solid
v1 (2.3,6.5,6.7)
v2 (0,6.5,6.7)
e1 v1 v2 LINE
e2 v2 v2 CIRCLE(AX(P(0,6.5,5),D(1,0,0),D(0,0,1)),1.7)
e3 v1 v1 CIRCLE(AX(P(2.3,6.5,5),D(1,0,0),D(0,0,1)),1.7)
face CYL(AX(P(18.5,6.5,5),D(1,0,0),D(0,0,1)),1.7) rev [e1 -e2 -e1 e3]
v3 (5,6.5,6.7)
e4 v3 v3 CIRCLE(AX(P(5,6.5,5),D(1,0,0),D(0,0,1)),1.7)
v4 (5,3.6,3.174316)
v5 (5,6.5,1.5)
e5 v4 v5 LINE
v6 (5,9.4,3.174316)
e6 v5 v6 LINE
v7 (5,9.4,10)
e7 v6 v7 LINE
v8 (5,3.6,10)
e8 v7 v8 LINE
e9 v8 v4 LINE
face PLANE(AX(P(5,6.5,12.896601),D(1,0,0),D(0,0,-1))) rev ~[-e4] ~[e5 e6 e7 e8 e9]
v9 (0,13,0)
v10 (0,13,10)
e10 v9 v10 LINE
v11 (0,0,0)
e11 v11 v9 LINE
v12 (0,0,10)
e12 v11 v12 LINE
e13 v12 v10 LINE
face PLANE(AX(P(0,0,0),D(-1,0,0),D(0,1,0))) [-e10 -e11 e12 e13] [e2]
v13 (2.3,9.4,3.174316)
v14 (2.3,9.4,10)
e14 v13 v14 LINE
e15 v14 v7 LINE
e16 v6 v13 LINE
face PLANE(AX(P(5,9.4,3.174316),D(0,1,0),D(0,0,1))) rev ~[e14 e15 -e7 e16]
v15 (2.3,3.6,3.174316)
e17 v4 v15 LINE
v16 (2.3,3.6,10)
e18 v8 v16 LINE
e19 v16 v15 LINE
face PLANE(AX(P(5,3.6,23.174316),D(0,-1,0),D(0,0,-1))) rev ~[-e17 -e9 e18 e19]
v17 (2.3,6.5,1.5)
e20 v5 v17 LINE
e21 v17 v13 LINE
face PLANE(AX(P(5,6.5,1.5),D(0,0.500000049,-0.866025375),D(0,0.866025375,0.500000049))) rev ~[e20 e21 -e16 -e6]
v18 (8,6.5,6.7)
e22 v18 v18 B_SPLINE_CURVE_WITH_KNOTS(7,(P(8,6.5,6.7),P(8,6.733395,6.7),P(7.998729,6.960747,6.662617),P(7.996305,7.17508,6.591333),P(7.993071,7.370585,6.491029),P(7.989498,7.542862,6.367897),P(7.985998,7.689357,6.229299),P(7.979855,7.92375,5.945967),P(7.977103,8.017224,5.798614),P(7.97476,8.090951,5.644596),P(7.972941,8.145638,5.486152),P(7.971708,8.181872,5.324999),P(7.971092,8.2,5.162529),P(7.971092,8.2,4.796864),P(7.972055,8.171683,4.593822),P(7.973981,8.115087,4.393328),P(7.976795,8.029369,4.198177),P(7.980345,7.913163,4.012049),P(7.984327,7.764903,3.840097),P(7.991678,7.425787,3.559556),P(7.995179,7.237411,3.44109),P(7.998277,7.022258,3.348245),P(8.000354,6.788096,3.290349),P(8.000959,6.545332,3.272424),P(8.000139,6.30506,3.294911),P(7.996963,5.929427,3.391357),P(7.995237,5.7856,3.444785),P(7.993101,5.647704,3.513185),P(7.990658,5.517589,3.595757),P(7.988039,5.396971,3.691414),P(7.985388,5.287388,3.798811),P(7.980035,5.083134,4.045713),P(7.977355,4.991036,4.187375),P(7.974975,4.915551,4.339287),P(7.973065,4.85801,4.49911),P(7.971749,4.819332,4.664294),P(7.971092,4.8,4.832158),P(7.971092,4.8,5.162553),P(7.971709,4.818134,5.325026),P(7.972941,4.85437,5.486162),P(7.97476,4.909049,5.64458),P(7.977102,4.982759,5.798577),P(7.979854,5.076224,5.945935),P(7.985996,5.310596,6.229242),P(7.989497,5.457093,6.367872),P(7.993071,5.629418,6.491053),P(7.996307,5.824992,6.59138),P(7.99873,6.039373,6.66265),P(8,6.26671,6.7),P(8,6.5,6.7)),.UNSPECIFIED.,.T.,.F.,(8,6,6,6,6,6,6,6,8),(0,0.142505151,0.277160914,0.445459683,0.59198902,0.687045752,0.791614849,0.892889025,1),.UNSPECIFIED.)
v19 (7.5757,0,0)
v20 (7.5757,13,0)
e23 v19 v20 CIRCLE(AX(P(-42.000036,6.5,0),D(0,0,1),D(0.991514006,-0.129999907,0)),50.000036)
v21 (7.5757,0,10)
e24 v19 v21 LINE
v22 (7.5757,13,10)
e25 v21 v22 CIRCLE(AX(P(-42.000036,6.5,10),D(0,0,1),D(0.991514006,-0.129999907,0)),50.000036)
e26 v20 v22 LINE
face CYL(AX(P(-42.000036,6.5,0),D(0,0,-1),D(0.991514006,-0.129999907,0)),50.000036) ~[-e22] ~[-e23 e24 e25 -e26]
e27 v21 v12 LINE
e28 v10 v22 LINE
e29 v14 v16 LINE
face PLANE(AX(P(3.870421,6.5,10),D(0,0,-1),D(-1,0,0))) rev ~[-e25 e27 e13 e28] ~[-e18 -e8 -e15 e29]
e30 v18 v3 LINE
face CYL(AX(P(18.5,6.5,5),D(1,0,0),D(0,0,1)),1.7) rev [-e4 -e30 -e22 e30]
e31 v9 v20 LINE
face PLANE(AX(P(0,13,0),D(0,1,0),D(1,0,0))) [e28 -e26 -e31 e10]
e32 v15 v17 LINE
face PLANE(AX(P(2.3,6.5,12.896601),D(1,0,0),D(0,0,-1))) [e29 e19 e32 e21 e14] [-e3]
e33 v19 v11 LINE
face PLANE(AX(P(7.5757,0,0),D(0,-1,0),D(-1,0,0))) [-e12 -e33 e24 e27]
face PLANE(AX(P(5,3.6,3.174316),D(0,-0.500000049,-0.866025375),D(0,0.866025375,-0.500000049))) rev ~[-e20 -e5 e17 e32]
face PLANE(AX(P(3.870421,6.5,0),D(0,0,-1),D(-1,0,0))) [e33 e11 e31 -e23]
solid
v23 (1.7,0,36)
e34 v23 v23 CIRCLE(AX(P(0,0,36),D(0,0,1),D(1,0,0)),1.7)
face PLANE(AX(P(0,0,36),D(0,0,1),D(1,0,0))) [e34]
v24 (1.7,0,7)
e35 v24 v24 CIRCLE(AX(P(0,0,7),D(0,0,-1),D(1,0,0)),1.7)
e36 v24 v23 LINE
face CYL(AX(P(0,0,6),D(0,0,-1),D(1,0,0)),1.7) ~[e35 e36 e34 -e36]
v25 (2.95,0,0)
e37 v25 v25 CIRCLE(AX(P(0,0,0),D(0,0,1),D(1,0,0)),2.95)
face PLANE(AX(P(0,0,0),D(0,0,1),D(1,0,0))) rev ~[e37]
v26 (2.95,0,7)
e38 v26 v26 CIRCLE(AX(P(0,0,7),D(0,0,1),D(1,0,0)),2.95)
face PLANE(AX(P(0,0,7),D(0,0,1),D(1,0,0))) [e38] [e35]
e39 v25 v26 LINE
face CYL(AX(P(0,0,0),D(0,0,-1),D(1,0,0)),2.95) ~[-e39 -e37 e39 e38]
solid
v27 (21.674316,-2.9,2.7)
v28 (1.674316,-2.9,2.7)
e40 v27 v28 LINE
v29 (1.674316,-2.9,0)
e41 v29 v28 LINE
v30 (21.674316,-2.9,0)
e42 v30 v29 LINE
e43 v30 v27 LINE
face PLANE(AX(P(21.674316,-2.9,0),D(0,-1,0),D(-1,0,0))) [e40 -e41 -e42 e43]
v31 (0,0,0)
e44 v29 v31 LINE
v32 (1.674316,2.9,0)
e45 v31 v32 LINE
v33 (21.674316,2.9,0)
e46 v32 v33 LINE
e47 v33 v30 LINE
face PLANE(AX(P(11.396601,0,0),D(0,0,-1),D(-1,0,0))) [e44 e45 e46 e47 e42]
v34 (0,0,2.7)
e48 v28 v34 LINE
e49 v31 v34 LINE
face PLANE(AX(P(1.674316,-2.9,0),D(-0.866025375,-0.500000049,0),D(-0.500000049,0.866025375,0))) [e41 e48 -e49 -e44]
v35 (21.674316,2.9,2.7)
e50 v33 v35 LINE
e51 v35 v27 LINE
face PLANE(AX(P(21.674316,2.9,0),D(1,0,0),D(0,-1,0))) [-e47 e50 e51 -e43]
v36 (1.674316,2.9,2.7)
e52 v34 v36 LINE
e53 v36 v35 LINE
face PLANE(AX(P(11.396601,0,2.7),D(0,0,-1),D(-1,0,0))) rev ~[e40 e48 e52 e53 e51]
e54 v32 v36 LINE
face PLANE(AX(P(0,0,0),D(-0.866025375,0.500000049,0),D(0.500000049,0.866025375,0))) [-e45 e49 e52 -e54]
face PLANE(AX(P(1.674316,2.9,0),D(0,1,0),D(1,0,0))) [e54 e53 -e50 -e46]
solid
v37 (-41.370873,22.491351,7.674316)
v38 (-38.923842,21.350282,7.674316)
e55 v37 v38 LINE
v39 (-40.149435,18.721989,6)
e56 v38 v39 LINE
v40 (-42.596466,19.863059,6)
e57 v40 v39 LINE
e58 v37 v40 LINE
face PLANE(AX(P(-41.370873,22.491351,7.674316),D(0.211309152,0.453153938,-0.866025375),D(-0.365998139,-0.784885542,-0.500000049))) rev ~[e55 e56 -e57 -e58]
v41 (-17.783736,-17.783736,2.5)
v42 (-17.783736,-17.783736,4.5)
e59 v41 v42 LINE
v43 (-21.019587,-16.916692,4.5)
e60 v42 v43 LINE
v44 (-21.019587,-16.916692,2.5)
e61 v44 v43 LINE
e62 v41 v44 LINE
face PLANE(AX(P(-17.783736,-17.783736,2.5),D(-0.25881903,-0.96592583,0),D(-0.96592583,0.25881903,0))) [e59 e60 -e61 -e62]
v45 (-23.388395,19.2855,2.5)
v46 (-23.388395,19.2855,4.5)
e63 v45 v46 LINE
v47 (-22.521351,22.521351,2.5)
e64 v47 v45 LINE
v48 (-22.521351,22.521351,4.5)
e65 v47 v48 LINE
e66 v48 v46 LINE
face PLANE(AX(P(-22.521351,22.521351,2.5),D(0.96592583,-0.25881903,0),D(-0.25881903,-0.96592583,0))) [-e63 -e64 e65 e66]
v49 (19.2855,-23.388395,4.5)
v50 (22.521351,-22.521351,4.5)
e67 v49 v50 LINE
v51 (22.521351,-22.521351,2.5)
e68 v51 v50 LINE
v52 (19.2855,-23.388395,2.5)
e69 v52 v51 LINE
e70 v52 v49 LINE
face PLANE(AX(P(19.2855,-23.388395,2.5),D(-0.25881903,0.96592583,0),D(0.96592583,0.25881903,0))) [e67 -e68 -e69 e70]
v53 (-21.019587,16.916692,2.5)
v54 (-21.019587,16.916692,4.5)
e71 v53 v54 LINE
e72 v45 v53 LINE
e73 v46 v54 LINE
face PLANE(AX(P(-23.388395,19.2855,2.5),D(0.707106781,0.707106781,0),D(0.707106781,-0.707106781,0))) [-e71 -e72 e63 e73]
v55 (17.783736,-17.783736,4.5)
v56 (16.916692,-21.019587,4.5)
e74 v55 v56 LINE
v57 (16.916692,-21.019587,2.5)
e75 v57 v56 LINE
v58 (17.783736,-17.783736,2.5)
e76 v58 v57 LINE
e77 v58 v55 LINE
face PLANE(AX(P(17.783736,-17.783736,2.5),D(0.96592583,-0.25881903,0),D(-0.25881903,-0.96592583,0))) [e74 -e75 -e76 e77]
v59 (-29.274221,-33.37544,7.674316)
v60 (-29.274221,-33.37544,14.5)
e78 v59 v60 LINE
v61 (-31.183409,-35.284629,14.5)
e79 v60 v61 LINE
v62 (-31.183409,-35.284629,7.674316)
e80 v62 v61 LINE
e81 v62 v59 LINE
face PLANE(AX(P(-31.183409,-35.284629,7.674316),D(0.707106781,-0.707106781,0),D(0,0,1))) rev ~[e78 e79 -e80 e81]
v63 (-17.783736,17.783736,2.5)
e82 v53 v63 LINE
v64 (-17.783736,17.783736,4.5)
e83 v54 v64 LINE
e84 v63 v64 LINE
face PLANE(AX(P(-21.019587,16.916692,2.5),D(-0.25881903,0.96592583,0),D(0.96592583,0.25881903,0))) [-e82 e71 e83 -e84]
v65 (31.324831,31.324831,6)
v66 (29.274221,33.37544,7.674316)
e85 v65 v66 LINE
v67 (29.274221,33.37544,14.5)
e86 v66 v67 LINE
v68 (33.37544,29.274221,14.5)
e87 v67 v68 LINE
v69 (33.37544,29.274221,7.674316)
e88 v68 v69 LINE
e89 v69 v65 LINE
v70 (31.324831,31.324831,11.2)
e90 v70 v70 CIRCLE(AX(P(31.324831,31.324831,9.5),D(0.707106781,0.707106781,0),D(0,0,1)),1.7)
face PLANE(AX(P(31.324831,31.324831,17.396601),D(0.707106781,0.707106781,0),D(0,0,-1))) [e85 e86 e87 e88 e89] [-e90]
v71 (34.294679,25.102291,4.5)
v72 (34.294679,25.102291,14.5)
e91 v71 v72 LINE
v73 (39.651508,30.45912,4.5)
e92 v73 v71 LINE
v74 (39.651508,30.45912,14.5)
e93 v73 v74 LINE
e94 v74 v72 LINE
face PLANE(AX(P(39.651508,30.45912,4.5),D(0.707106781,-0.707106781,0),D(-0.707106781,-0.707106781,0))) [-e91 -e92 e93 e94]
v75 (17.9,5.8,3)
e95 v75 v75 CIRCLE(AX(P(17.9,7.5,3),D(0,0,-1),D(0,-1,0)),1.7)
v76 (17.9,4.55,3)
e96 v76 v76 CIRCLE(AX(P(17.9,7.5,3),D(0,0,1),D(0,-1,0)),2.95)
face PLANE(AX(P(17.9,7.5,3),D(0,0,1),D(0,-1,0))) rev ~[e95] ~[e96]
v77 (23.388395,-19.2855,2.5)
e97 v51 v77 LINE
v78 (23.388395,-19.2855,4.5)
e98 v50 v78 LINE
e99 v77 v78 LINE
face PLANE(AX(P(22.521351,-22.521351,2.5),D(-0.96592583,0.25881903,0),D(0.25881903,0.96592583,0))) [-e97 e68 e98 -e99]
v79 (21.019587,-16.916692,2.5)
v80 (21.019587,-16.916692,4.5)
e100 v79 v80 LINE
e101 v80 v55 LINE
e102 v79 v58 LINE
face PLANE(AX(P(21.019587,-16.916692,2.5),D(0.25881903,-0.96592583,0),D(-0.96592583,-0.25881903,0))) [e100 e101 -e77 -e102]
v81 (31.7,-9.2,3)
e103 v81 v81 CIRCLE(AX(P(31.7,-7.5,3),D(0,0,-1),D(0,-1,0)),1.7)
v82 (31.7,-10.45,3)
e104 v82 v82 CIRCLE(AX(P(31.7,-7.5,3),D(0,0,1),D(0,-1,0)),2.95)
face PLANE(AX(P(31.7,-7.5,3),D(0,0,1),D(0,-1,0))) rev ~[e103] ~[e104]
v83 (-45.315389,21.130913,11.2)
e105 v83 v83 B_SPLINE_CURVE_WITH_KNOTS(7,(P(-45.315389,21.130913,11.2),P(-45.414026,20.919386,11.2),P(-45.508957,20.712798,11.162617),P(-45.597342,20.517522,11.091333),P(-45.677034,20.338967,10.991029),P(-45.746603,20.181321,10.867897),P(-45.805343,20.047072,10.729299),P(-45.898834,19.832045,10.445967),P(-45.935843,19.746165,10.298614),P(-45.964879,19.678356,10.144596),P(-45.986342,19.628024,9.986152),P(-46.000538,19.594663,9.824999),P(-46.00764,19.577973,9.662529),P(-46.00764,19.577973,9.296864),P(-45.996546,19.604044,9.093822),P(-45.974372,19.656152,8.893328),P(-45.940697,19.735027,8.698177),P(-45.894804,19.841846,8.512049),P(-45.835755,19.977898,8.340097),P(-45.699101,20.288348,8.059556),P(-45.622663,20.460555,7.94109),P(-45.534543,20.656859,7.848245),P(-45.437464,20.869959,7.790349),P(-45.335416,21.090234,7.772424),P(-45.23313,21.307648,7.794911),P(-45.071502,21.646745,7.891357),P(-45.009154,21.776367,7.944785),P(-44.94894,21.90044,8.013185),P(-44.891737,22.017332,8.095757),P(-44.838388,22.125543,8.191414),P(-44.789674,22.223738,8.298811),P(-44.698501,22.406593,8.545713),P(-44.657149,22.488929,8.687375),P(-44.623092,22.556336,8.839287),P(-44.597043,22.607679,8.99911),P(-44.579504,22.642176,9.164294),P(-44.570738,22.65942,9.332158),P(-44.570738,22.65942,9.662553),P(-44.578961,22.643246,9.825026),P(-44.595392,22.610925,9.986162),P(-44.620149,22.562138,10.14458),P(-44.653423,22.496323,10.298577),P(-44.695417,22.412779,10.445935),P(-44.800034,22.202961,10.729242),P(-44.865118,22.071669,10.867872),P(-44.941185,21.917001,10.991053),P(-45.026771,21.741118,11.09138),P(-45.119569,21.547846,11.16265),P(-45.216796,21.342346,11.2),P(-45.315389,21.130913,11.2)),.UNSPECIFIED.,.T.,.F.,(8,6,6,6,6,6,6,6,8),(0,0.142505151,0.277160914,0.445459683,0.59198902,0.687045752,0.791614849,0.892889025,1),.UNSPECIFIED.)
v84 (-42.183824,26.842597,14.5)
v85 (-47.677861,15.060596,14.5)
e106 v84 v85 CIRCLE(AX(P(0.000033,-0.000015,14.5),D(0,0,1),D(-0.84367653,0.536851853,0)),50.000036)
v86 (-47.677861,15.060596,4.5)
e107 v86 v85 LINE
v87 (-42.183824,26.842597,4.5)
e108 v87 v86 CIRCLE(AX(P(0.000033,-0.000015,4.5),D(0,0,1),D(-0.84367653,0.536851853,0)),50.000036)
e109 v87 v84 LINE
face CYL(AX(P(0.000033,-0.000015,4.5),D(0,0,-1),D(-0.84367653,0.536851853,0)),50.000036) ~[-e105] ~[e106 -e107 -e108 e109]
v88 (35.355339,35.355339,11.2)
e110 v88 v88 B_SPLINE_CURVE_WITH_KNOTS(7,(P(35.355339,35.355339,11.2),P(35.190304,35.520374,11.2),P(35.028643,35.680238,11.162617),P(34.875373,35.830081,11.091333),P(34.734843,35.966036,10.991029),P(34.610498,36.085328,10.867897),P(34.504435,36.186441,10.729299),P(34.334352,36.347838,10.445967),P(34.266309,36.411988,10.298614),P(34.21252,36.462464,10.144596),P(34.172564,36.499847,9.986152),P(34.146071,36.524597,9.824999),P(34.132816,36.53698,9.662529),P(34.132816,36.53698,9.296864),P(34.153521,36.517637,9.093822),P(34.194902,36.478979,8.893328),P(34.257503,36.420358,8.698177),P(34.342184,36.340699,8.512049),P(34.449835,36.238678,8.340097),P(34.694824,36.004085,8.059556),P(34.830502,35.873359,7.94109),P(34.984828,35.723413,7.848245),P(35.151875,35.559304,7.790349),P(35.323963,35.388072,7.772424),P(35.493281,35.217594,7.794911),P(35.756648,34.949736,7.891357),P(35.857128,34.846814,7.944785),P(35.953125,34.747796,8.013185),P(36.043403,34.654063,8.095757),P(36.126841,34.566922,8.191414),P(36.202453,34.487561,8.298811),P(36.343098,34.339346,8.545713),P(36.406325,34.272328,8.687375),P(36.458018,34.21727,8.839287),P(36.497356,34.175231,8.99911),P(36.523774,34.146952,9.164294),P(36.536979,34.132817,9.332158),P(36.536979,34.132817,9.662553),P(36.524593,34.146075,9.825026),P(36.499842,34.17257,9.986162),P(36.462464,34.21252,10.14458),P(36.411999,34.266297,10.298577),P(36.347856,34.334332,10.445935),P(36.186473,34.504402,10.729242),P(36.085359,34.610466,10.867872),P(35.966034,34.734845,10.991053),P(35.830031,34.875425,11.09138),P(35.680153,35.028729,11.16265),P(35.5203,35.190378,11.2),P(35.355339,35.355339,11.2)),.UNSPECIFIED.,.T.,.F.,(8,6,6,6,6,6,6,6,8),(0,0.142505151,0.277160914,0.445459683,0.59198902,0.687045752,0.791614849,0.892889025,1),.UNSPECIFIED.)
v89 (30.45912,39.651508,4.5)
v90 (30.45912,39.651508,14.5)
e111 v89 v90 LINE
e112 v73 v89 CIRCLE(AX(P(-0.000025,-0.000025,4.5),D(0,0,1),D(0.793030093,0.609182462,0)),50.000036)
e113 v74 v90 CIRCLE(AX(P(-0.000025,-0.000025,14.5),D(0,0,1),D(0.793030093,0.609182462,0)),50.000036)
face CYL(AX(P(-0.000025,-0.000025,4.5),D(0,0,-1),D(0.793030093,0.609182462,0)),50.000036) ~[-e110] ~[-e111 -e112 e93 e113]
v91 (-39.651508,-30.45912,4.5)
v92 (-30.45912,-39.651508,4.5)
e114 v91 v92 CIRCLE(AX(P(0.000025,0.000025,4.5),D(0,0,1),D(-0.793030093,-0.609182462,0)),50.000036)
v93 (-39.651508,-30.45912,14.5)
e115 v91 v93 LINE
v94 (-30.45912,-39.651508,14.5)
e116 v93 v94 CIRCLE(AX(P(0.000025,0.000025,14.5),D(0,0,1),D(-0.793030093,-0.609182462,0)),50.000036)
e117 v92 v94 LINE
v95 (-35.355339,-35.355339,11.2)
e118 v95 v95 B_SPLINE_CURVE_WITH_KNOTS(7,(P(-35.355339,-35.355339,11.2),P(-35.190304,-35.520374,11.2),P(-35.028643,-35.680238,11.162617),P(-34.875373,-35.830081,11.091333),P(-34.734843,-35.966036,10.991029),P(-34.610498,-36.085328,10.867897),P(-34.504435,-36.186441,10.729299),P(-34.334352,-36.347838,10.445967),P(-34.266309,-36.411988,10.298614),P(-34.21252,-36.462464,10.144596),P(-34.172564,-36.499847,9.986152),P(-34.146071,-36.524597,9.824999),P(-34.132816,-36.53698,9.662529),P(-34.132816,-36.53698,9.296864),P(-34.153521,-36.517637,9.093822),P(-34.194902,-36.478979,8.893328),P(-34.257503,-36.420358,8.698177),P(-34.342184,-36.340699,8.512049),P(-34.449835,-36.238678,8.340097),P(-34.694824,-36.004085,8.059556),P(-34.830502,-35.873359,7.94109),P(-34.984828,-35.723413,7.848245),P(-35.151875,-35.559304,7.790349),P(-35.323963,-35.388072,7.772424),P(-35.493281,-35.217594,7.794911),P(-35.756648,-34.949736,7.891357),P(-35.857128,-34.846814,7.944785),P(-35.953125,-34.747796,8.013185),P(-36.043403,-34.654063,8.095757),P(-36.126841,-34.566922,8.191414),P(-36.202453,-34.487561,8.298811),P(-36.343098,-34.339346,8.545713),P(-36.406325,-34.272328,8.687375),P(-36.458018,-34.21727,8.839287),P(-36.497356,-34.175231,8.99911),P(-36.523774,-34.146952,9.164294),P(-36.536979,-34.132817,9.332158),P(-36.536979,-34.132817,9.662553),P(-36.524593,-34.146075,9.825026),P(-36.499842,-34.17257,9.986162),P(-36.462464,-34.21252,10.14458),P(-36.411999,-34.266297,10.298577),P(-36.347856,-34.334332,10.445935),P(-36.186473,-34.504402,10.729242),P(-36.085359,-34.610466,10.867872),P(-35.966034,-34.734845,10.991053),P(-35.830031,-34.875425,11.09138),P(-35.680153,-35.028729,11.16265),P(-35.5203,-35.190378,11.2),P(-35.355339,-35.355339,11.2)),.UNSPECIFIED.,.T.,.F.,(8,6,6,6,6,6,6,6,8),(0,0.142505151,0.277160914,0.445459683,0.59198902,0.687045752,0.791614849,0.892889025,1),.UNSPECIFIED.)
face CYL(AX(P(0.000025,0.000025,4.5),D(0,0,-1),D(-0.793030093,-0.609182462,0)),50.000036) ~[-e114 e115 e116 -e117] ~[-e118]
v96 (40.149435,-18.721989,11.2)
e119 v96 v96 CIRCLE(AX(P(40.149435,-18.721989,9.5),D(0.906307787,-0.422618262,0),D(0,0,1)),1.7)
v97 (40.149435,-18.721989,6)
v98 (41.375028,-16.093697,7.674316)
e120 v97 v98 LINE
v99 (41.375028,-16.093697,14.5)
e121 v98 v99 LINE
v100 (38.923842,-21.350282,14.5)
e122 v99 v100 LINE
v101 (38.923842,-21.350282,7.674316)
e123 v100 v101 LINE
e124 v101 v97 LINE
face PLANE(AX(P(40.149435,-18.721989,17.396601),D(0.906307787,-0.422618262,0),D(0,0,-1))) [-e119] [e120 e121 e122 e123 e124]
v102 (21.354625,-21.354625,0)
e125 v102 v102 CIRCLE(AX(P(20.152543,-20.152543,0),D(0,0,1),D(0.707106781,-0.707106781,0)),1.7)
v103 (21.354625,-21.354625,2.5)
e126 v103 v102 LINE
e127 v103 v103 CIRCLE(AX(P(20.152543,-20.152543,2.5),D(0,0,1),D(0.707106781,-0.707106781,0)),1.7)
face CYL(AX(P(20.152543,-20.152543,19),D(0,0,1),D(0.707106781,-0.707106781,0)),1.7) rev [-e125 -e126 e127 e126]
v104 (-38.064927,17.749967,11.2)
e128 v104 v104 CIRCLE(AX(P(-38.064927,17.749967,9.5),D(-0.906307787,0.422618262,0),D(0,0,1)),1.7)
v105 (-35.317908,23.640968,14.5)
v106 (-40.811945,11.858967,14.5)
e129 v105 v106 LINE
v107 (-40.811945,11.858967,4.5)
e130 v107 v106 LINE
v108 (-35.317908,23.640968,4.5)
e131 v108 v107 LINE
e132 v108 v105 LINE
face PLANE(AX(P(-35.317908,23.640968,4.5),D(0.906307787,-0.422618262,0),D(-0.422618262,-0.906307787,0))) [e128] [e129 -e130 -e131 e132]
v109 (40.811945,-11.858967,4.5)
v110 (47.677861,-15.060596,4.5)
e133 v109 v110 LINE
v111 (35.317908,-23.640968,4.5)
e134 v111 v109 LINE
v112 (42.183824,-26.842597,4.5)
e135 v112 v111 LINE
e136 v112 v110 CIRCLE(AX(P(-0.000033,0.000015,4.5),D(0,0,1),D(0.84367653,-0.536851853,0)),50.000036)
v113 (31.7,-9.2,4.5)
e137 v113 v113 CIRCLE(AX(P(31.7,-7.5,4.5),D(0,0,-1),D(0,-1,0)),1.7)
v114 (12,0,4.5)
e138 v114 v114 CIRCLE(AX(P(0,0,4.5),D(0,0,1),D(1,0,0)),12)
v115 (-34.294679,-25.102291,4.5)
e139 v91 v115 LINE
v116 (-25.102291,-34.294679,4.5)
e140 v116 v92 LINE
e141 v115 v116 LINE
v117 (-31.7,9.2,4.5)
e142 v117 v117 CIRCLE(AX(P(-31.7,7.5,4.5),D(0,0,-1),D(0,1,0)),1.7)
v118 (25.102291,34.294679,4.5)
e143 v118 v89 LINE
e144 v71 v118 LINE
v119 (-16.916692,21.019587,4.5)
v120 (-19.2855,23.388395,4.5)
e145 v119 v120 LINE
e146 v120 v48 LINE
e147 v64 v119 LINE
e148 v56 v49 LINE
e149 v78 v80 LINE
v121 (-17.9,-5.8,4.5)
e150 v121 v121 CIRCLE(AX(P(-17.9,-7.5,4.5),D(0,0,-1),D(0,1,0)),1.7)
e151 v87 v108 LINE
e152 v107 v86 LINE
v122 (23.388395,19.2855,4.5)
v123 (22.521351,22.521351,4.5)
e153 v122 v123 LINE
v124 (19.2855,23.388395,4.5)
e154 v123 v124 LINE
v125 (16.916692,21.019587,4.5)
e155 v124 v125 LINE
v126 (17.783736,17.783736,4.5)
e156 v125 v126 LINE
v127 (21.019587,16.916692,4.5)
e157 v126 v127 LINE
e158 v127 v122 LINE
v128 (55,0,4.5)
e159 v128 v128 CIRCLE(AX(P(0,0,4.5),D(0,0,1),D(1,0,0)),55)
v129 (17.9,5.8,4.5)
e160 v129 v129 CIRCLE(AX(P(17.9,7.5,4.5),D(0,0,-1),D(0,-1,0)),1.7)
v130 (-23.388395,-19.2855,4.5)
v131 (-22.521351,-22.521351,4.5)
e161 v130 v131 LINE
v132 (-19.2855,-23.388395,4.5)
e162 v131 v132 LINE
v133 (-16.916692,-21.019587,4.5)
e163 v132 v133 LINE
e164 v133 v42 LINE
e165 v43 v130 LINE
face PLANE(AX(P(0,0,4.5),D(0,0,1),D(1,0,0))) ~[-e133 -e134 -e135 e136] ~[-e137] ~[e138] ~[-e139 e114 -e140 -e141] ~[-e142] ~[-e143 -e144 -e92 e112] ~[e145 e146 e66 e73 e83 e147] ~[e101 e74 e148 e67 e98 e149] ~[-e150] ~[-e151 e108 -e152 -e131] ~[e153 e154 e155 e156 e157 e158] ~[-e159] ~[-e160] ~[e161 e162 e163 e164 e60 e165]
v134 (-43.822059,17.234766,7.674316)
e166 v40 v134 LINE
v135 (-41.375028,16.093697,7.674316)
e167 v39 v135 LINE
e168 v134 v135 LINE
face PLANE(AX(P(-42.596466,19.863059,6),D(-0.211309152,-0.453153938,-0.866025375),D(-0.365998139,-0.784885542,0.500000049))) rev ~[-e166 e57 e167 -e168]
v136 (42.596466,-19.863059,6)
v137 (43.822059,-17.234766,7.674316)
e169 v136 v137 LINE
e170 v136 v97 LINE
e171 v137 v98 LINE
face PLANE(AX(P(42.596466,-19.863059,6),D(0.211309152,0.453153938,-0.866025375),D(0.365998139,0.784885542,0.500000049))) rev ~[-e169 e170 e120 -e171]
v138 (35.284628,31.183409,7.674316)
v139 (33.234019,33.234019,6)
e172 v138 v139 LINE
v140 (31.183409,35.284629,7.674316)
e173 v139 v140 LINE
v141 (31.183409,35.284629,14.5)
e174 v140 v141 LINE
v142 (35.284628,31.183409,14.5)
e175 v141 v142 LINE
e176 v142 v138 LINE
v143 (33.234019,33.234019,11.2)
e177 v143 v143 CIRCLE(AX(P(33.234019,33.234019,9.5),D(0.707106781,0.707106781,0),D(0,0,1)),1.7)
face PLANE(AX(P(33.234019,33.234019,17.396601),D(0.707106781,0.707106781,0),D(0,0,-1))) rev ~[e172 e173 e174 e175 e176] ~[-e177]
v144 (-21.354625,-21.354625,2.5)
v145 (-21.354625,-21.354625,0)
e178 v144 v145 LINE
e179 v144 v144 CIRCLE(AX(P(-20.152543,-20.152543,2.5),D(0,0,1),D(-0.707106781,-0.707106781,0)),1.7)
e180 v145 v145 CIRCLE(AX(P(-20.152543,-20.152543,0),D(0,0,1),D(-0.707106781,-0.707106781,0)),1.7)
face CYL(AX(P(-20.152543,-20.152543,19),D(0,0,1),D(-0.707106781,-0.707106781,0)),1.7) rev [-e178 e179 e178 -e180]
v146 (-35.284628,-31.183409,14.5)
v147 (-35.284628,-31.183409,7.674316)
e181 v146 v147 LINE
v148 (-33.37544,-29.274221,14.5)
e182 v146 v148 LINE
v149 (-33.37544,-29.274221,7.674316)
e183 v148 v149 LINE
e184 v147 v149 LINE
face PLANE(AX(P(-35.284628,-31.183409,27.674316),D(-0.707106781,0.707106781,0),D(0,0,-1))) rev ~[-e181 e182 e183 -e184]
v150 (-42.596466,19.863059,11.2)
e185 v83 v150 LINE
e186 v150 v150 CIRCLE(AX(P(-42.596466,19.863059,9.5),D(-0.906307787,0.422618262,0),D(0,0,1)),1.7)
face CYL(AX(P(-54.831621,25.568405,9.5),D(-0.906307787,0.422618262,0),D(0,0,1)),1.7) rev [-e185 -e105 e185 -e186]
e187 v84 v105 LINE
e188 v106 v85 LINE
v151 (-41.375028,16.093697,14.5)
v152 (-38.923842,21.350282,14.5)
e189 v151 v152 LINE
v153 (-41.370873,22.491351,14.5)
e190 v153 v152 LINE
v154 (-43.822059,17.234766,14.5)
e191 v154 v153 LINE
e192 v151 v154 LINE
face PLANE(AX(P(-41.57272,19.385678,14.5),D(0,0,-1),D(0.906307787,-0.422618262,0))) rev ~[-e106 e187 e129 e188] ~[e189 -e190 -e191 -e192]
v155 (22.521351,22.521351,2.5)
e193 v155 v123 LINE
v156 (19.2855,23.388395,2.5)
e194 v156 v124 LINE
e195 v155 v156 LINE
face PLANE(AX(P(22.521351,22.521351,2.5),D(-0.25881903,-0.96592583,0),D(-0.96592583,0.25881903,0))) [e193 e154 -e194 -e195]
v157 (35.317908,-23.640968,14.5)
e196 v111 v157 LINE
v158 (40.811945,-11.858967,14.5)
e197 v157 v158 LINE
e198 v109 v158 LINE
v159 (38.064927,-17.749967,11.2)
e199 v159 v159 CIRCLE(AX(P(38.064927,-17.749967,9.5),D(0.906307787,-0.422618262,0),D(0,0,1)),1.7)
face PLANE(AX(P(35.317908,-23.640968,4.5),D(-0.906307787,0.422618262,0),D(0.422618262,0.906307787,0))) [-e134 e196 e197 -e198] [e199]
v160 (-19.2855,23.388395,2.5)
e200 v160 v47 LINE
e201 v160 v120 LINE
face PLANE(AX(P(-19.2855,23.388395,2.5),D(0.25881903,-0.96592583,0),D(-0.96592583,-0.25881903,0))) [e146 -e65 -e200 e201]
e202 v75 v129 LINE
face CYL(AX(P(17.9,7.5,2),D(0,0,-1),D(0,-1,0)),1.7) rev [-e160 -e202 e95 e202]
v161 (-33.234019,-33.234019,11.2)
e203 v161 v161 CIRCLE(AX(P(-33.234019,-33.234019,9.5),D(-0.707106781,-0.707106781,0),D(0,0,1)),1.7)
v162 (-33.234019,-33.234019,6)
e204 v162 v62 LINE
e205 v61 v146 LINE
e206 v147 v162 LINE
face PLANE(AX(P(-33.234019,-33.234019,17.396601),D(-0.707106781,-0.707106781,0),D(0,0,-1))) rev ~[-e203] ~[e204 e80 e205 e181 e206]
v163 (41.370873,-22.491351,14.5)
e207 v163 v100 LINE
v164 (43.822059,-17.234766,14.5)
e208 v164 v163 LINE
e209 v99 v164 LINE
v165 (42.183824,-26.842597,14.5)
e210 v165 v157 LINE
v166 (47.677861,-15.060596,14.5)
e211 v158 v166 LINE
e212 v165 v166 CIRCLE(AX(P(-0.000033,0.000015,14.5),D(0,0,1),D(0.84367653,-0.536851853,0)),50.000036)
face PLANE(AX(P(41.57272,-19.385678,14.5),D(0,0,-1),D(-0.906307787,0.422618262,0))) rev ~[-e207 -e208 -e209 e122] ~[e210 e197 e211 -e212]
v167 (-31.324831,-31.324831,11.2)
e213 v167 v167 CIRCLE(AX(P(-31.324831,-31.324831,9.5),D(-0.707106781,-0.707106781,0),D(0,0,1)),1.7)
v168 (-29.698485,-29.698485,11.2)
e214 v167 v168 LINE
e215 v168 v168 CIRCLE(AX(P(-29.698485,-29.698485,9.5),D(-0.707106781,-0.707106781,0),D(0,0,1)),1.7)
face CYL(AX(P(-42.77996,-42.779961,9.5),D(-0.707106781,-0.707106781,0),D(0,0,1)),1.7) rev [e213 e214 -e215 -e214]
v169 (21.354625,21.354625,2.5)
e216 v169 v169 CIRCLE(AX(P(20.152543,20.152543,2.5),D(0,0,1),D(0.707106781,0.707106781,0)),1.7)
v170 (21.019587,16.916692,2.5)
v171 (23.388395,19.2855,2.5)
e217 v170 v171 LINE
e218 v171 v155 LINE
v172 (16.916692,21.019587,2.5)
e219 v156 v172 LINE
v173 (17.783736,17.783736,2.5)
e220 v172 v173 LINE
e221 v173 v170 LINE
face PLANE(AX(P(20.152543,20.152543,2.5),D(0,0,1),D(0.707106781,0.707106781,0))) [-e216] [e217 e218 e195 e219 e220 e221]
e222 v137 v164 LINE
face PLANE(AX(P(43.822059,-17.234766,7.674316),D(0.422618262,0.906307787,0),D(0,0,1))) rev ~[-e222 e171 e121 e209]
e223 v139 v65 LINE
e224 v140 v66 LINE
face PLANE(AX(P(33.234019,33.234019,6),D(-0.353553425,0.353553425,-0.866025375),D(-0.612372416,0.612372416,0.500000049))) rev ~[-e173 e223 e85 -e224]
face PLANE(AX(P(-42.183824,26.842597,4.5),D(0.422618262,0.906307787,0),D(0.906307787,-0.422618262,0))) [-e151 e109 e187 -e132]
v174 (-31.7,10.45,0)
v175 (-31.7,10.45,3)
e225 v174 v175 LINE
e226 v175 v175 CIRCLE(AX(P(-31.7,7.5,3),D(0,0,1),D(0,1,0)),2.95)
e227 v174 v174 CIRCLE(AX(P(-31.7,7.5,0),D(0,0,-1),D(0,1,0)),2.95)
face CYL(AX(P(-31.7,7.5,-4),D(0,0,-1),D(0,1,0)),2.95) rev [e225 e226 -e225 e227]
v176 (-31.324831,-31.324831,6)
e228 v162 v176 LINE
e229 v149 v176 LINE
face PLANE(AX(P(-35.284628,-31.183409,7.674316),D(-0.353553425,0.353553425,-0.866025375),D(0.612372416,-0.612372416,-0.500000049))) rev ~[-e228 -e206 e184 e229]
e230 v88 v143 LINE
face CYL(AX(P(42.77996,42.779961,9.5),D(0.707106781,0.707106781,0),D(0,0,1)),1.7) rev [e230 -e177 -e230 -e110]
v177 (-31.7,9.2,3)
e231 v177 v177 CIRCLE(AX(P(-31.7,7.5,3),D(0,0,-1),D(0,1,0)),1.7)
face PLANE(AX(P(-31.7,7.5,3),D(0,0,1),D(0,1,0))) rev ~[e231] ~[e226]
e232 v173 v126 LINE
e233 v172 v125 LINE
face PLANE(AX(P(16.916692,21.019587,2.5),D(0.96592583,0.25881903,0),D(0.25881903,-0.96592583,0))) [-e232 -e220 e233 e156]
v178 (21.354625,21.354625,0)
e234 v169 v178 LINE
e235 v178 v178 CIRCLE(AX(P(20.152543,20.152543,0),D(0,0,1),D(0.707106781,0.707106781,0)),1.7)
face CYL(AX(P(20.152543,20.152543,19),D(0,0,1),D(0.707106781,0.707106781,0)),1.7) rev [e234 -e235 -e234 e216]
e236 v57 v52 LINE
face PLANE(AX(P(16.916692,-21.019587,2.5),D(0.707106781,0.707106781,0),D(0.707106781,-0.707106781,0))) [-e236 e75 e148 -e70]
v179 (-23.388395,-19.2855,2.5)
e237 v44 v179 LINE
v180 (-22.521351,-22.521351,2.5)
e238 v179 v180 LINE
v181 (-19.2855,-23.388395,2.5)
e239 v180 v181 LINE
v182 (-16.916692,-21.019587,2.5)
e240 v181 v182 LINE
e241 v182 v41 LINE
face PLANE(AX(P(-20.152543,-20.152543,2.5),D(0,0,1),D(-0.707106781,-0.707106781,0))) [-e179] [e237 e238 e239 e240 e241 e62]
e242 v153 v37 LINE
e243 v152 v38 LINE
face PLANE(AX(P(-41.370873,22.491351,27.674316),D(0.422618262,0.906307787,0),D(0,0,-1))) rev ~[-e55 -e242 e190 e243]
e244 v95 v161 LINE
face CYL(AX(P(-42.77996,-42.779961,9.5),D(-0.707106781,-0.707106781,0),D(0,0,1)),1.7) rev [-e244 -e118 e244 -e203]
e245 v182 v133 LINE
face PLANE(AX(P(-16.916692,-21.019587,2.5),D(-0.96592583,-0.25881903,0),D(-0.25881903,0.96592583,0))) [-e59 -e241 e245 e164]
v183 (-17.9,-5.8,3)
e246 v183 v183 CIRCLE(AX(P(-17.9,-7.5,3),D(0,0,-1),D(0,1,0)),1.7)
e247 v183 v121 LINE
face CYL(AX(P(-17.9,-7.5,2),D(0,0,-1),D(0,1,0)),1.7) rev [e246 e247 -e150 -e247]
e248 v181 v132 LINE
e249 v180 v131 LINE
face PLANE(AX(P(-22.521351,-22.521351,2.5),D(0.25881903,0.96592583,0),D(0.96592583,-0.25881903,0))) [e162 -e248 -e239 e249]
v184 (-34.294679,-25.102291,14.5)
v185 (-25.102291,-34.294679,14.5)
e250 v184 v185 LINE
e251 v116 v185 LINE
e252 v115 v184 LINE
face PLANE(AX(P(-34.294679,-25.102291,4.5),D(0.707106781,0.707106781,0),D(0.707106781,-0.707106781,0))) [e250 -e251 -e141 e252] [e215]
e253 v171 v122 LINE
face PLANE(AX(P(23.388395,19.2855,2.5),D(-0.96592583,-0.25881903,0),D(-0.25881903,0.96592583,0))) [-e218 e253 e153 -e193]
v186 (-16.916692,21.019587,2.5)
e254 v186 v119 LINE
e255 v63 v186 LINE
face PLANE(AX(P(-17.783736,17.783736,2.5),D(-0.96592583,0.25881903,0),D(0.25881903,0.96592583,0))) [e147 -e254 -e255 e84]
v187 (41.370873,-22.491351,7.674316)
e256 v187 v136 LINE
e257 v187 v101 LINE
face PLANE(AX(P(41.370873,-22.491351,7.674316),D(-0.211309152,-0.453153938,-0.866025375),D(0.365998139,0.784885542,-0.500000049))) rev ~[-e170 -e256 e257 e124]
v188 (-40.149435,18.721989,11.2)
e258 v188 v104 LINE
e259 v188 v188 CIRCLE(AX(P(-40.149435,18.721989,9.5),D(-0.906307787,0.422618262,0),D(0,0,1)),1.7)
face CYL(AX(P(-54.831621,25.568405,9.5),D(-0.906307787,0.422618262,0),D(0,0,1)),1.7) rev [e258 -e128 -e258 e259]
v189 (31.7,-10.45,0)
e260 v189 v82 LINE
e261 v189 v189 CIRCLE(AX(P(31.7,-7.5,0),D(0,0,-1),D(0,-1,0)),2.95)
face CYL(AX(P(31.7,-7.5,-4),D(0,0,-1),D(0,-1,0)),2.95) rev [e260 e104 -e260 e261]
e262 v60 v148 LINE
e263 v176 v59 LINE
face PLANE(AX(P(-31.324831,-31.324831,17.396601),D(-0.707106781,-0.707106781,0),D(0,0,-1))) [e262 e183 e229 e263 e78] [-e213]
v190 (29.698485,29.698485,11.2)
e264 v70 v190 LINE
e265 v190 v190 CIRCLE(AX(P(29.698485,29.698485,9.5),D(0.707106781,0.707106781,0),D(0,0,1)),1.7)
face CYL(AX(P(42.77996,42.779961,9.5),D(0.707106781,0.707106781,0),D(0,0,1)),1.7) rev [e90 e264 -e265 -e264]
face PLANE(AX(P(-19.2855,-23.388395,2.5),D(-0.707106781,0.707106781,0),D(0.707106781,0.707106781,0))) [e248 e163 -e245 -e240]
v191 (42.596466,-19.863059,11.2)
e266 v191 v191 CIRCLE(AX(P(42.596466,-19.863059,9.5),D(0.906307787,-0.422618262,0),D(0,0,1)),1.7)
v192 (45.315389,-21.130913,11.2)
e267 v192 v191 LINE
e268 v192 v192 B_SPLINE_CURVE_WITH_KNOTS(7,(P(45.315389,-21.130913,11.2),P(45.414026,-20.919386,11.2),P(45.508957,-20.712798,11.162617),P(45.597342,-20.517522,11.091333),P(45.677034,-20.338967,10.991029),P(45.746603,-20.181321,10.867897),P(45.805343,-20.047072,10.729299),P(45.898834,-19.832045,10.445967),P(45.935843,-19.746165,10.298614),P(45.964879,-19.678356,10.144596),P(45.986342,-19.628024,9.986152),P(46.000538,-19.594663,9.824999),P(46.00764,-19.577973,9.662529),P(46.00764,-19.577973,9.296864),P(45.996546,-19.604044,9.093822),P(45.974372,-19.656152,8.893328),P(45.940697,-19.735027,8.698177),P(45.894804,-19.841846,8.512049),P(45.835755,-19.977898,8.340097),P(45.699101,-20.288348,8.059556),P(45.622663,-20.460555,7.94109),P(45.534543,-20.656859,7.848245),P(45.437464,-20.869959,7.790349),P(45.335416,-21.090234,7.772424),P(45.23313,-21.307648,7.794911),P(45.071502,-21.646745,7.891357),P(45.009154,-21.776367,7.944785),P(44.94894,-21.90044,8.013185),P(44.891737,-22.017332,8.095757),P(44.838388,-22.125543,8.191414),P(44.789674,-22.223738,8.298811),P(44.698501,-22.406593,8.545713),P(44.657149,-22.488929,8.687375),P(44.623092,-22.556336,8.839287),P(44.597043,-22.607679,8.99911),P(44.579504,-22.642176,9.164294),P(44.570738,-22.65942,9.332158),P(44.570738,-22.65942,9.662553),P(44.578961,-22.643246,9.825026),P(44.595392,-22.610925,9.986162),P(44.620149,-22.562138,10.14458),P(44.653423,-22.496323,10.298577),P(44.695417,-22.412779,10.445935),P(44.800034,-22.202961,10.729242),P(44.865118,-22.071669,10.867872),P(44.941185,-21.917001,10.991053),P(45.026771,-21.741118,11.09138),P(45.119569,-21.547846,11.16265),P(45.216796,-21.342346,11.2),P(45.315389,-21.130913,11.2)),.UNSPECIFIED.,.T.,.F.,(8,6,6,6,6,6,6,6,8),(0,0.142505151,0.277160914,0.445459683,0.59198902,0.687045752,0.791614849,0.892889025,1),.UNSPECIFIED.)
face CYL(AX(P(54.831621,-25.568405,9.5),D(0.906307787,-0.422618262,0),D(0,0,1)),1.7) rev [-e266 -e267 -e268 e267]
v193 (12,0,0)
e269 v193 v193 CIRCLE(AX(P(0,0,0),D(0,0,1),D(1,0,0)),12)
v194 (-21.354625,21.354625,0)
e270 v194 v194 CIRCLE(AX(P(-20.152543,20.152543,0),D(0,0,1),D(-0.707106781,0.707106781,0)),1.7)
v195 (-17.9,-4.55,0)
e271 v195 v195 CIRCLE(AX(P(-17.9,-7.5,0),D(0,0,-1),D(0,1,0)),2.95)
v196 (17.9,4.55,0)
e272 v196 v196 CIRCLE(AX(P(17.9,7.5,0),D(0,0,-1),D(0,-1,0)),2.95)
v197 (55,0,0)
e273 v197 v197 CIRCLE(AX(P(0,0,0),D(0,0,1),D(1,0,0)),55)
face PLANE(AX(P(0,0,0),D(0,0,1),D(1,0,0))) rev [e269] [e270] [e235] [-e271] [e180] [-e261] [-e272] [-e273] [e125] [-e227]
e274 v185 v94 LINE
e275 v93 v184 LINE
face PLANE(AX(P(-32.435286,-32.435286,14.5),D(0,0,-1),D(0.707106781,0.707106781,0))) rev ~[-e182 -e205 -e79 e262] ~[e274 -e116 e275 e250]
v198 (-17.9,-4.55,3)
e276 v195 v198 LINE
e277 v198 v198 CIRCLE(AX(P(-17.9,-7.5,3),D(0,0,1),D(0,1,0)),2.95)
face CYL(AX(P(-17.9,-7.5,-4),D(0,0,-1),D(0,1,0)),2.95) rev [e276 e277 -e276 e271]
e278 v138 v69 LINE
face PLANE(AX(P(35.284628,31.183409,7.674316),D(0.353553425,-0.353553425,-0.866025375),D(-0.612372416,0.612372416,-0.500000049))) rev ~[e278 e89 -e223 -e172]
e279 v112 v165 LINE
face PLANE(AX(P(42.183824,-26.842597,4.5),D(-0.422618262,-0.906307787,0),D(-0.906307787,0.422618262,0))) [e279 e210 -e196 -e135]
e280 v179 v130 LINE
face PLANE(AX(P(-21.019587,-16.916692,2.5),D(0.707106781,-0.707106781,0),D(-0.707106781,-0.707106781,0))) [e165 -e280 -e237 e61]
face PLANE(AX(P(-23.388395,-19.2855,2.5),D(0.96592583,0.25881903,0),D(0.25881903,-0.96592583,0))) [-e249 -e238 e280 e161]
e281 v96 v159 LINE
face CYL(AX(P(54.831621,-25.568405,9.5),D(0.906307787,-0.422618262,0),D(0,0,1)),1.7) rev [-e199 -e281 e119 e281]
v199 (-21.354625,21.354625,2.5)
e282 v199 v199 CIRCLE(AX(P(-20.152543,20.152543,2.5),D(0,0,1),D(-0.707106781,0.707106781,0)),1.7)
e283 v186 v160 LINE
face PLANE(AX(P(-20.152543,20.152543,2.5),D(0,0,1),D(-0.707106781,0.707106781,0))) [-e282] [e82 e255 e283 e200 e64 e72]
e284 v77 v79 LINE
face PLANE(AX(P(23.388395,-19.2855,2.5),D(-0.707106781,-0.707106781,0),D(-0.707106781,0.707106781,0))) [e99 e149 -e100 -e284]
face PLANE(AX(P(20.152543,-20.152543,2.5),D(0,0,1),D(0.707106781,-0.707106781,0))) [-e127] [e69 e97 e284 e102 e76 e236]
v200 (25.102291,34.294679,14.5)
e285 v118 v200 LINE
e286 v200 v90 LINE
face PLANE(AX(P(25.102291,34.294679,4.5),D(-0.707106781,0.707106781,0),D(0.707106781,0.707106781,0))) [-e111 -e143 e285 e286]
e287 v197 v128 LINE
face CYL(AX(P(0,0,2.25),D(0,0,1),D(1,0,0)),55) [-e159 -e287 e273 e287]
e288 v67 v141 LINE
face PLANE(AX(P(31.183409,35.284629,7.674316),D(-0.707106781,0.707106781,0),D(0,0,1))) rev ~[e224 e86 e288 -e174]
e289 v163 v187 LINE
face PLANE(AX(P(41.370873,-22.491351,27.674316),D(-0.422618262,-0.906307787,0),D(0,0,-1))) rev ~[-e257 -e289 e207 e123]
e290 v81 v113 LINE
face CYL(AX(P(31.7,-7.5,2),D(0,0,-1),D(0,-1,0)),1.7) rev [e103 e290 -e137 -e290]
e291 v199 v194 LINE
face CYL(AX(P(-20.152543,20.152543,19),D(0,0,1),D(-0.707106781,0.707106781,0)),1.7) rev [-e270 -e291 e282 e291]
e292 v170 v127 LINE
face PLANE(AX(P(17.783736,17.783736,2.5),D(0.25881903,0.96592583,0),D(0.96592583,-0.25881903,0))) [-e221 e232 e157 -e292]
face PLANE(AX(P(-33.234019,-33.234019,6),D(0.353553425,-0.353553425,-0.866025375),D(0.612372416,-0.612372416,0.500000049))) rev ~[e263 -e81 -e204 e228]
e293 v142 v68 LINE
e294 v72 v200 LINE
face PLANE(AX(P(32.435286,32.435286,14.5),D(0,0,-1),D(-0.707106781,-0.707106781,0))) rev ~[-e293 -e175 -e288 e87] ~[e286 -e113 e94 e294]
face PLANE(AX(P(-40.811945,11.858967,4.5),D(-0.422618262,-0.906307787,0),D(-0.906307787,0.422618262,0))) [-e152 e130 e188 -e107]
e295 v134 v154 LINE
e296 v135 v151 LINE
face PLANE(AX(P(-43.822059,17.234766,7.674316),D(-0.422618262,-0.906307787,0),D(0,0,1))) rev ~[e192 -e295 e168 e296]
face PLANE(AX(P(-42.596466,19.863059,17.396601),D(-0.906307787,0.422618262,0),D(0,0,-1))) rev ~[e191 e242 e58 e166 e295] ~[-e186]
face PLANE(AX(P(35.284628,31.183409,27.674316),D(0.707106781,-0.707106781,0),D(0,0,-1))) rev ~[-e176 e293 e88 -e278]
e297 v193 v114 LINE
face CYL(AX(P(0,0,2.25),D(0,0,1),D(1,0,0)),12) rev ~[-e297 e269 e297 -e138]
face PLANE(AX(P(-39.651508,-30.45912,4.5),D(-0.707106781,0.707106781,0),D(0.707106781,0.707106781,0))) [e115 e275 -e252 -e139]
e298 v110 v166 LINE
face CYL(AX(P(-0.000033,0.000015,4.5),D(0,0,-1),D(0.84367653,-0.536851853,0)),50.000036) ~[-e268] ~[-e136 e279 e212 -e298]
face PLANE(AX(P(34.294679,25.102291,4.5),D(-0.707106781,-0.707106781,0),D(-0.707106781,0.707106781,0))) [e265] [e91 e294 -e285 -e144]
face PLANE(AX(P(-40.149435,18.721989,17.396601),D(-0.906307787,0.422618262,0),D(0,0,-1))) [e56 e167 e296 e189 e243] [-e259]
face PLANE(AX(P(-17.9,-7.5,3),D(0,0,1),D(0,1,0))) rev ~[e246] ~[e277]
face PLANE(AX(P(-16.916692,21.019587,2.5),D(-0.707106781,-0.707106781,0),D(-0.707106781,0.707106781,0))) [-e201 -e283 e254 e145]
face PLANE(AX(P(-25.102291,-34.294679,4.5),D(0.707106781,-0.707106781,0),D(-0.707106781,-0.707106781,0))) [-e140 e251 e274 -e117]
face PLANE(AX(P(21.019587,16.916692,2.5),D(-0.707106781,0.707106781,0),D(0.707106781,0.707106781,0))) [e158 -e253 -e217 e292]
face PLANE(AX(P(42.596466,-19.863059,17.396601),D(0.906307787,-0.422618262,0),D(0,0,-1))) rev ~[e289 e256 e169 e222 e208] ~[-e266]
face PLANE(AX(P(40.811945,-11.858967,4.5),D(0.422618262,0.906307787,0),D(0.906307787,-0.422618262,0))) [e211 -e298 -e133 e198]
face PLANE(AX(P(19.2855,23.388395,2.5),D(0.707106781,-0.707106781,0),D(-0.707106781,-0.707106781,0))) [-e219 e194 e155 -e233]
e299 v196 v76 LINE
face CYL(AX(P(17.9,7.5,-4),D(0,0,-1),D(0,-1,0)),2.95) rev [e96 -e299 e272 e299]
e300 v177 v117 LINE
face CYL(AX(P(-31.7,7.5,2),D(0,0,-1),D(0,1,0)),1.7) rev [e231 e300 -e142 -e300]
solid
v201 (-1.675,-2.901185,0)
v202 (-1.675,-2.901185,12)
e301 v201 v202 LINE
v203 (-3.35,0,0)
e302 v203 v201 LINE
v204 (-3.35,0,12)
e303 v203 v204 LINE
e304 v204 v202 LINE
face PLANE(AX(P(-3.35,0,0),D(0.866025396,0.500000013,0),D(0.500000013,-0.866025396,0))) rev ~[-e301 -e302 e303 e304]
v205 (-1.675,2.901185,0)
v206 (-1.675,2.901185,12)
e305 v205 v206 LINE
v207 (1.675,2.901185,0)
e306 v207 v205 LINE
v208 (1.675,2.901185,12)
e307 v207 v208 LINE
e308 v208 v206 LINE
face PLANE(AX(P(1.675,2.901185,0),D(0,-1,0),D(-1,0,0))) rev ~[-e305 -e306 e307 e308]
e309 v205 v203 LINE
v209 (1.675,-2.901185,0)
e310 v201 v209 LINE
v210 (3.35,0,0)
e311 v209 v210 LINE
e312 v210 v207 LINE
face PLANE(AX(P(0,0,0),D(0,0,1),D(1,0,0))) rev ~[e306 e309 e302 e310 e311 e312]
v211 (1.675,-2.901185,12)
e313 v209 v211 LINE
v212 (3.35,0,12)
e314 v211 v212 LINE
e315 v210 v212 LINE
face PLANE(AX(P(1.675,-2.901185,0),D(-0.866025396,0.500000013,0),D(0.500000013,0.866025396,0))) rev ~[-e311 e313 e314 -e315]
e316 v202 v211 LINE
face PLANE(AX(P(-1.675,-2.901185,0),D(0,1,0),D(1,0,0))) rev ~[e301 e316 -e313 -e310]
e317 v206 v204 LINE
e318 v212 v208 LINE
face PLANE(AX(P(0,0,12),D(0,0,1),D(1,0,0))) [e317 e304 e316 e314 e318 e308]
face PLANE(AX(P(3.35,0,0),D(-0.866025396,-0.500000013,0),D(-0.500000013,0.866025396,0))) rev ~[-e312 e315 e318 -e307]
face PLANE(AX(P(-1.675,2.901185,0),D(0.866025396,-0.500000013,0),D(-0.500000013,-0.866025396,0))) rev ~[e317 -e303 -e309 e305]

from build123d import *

# Parameters (mm, degrees)
CYLINDER_R                = 2.95
CYLINDER_DEPTH            = 7
CYLINDER001_R             = 1.7
CYLINDER001_DEPTH         = 30
PAD002_DEPTH              = 2.7
PRISM_DEPTH               = 12
CLONE271_PITCH_ANGLE      = -90
CLONE270_PITCH_ANGLE      = -90
PAD034_DEPTH              = 10
CLONE272_PLACEMENT_ANGLE  = 45
CLONE274_PLACEMENT_ANGLE  = 25
CLONE273_PLACEMENT_ANGLE  = 225
CLONE275_PLACEMENT_ANGLE  = 155
CLONE267_PLACEMENT_ANGLE  = 90
CLONE269_PLACEMENT_ANGLE  = 90
CLONE266_PLACEMENT_ANGLE  = -90
CLONE268_PLACEMENT_ANGLE  = -90
CLONE264_PLACEMENT_ANGLE  = 180
FUSION091_PLACEMENT_ANGLE = 45
ARRAY011_COUNT            = 4
SKETCH049_W               = 43
SKETCH049_H               = 4.5


with BuildPart() as m3bolthead:
    # Cylinder → Cylinder (new body)
    with BuildSketch(Plane.XY):
        Circle(CYLINDER_R)
    extrude(amount=CYLINDER_DEPTH)


with BuildPart() as m3bolt:
    # Cylinder001 → Cylinder001 (new body)
    with BuildSketch(Plane.XY.offset(6)):
        Circle(CYLINDER001_R)
    extrude(amount=CYLINDER001_DEPTH)

    # Fusion: union M3BoltHead
    add(m3bolthead.part)


with BuildPart() as m3nuthousing:
    # Sketch003 → Pad002 (new body)
    with BuildSketch(Plane.XY):
        Polygon((0, 0), (1.674316, 2.9), (21.674316, 2.9), (21.674316, -2.9), (1.674316, -2.9), align=None)
    extrude(amount=PAD002_DEPTH)


with BuildPart() as m3nut:
    # Prism → Prism (new body)
    with BuildSketch(Plane.XY):
        Polygon((3.35, 0), (1.675, 2.901185), (-1.675, 2.901185), (-3.35, 0), (-1.675, -2.901185), (1.675, -2.901185), align=None)
    extrude(amount=PRISM_DEPTH)


with BuildPart() as clone_of_m3nuthousing025:
    # Clone271 base: copy of M3NutHousing
    add(m3nuthousing.part)


with BuildPart() as clone_of_m3nuthousing025_1:
    # Clone271 pitch: moved
    add(clone_of_m3nuthousing025.part.rotate(Axis((0, 0, 0), (0, 1, 0)), CLONE271_PITCH_ANGLE))


with BuildPart() as clone_of_m3nuthousing025_2:
    # Clone271 placement: moved
    add(clone_of_m3nuthousing025_1.part.moved(Location((5, 6.5, 1.5))))


with BuildPart() as fusion093:
    # Clone270 base: copy of M3Bolt
    add(m3bolt.part)


with BuildPart() as fusion093_1:
    # Clone270 pitch: moved
    add(fusion093.part.rotate(Axis((0, 0, 0), (0, 1, 0)), CLONE270_PITCH_ANGLE))


with BuildPart() as fusion093_2:
    # Clone270 placement: moved
    add(fusion093_1.part.moved(Location((24.5, 6.5, 5))))

    # Fusion093: union Clone of M3NutHousing025
    add(clone_of_m3nuthousing025_2.part)


with BuildPart() as art4bodyfixmaster:
    # Sketch050 → Pad034 (new body)
    with BuildSketch(Plane.XY):
        with BuildLine():
            Line((7.5757, 0), (0, 0))
            Line((0, 0), (0, 13))
            Line((0, 13), (7.5757, 13))
            ThreePointArc((7.5757, 0), (8, 6.5), (7.5757, 13))
        make_face()
    extrude(amount=PAD034_DEPTH)

    # Cut080: cut Fusion093
    add(fusion093_2.part, mode=Mode.SUBTRACT)


with BuildPart() as clone_of_art4bodyfixmaster:
    # Clone272 base: copy of Art4BodyFixMaster
    add(art4bodyfixmaster.part)


with BuildPart() as clone_of_art4bodyfixmaster_1:
    # Clone272 placement: moved
    add(clone_of_art4bodyfixmaster.part.moved(Location((34.294679, 25.102291, 4.5))).rotate(Axis((34.294679, 25.102291, 4.5), (0, 0, 1)), CLONE272_PLACEMENT_ANGLE))


with BuildPart() as clone_of_art4bodyfixmaster002:
    # Clone274 base: copy of Art4BodyFixMaster
    add(art4bodyfixmaster.part)


with BuildPart() as clone_of_art4bodyfixmaster002_1:
    # Clone274 placement: moved
    add(clone_of_art4bodyfixmaster002.part.moved(Location((35.317908, -23.640968, 4.5))).rotate(Axis((35.317908, -23.640968, 4.5), (0, 0, -1)), CLONE274_PLACEMENT_ANGLE))


with BuildPart() as clone_of_art4bodyfixmaster001:
    # Clone273 base: copy of Art4BodyFixMaster
    add(art4bodyfixmaster.part)


with BuildPart() as clone_of_art4bodyfixmaster001_1:
    # Clone273 placement: moved
    add(clone_of_art4bodyfixmaster001.part.moved(Location((-34.294679, -25.102291, 4.5))).rotate(Axis((-34.294679, -25.102291, 4.5), (0, 0, 1)), CLONE273_PLACEMENT_ANGLE))


with BuildPart() as clone_of_art4bodyfixmaster003:
    # Clone275 base: copy of Art4BodyFixMaster
    add(art4bodyfixmaster.part)


with BuildPart() as clone_of_art4bodyfixmaster003_1:
    # Clone275 placement: moved
    add(clone_of_art4bodyfixmaster003.part.moved(Location((-35.317908, 23.640968, 4.5))).rotate(Axis((-35.317908, 23.640968, 4.5), (0, 0, 1)), CLONE275_PLACEMENT_ANGLE))


with BuildPart() as clone_of_m3bolt091:
    # Clone267 base: copy of M3Bolt
    add(m3bolt.part)


with BuildPart() as clone_of_m3bolt091_1:
    # Clone267 placement: moved
    add(clone_of_m3bolt091.part.moved(Location((-17.9, -7.5, -4))).rotate(Axis((-17.9, -7.5, -4), (0, 0, 1)), CLONE267_PLACEMENT_ANGLE))


with BuildPart() as clone_of_m3bolt093:
    # Clone269 base: copy of M3Bolt
    add(m3bolt.part)


with BuildPart() as clone_of_m3bolt093_1:
    # Clone269 placement: moved
    add(clone_of_m3bolt093.part.moved(Location((-31.7, 7.5, -4))).rotate(Axis((-31.7, 7.5, -4), (0, 0, 1)), CLONE269_PLACEMENT_ANGLE))


with BuildPart() as clone_of_m3bolt090:
    # Clone266 base: copy of M3Bolt
    add(m3bolt.part)


with BuildPart() as clone_of_m3bolt090_1:
    # Clone266 placement: moved
    add(clone_of_m3bolt090.part.moved(Location((17.9, 7.5, -4))).rotate(Axis((17.9, 7.5, -4), (0, 0, 1)), CLONE266_PLACEMENT_ANGLE))


with BuildPart() as clone_of_m3bolt092:
    # Clone268 base: copy of M3Bolt
    add(m3bolt.part)


with BuildPart() as clone_of_m3bolt092_1:
    # Clone268 placement: moved
    add(clone_of_m3bolt092.part.moved(Location((31.7, -7.5, -4))).rotate(Axis((31.7, -7.5, -4), (0, 0, 1)), CLONE268_PLACEMENT_ANGLE))


with BuildPart() as clone_of_m3nut013:
    # Clone265 base: copy of M3Nut
    add(m3nut.part)


with BuildPart() as clone_of_m3nut013_1:
    # Clone265 placement: moved
    add(clone_of_m3nut013.part.moved(Location((28.5, 0, 2.5))))


with BuildPart() as fusion092:
    # Clone264 base: copy of M3Bolt
    add(m3bolt.part)


with BuildPart() as fusion092_1:
    # Clone264 placement: moved
    add(fusion092.part.moved(Location((28.5, 0, 25))).rotate(Axis((28.5, 0, 25), (1, 0, 0)), CLONE264_PLACEMENT_ANGLE))

    # Fusion091: union Clone of M3Nut013
    add(clone_of_m3nut013_1.part)


with BuildPart() as fusion092_2:
    # Fusion091 placement: moved
    add(fusion092_1.part.rotate(Axis((0, 0, 0), (0, 0, 1)), FUSION091_PLACEMENT_ANGLE))

    # Array011: Fusion092 ×4 about axis
    array011_axis = Axis((0, 0, 0), (0, 0, 1))


with BuildPart() as fusion092_3:
    add(fusion092_2.part)
    for i in range(1, ARRAY011_COUNT):
        add(fusion092_2.part.rotate(array011_axis, i * 360 / ARRAY011_COUNT))

    # Fusion092: union Clone of M3Bolt091, Clone of M3Bolt093, Clone of M3Bolt090, Clone of M3Bolt092
    add(clone_of_m3bolt091_1.part)
    add(clone_of_m3bolt093_1.part)
    add(clone_of_m3bolt090_1.part)
    add(clone_of_m3bolt092_1.part)


with BuildPart() as art4bodybot:
    # Sketch049 → Revolution011 (revolve)
    with BuildSketch(Plane.XZ):
        with Locations((33.5, 2.25)):
            Rectangle(SKETCH049_W, SKETCH049_H)
    revolve(axis=Axis((0, 0, 0), (0, 0, 1)))

    # Cut079: cut Fusion092
    add(fusion092_3.part, mode=Mode.SUBTRACT)

    # Fusion107: union Clone of Art4BodyFixMaster, Clone of Art4BodyFixMaster002, Clone of Art4BodyFixMaster001, Clone of Art4BodyFixMaster003
    add(clone_of_art4bodyfixmaster_1.part)
    add(clone_of_art4bodyfixmaster002_1.part)
    add(clone_of_art4bodyfixmaster001_1.part)
    add(clone_of_art4bodyfixmaster003_1.part)


solid = Compound([m3bolt.part, m3nuthousing.part, m3nut.part, art4bodyfixmaster.part, art4bodybot.part])
